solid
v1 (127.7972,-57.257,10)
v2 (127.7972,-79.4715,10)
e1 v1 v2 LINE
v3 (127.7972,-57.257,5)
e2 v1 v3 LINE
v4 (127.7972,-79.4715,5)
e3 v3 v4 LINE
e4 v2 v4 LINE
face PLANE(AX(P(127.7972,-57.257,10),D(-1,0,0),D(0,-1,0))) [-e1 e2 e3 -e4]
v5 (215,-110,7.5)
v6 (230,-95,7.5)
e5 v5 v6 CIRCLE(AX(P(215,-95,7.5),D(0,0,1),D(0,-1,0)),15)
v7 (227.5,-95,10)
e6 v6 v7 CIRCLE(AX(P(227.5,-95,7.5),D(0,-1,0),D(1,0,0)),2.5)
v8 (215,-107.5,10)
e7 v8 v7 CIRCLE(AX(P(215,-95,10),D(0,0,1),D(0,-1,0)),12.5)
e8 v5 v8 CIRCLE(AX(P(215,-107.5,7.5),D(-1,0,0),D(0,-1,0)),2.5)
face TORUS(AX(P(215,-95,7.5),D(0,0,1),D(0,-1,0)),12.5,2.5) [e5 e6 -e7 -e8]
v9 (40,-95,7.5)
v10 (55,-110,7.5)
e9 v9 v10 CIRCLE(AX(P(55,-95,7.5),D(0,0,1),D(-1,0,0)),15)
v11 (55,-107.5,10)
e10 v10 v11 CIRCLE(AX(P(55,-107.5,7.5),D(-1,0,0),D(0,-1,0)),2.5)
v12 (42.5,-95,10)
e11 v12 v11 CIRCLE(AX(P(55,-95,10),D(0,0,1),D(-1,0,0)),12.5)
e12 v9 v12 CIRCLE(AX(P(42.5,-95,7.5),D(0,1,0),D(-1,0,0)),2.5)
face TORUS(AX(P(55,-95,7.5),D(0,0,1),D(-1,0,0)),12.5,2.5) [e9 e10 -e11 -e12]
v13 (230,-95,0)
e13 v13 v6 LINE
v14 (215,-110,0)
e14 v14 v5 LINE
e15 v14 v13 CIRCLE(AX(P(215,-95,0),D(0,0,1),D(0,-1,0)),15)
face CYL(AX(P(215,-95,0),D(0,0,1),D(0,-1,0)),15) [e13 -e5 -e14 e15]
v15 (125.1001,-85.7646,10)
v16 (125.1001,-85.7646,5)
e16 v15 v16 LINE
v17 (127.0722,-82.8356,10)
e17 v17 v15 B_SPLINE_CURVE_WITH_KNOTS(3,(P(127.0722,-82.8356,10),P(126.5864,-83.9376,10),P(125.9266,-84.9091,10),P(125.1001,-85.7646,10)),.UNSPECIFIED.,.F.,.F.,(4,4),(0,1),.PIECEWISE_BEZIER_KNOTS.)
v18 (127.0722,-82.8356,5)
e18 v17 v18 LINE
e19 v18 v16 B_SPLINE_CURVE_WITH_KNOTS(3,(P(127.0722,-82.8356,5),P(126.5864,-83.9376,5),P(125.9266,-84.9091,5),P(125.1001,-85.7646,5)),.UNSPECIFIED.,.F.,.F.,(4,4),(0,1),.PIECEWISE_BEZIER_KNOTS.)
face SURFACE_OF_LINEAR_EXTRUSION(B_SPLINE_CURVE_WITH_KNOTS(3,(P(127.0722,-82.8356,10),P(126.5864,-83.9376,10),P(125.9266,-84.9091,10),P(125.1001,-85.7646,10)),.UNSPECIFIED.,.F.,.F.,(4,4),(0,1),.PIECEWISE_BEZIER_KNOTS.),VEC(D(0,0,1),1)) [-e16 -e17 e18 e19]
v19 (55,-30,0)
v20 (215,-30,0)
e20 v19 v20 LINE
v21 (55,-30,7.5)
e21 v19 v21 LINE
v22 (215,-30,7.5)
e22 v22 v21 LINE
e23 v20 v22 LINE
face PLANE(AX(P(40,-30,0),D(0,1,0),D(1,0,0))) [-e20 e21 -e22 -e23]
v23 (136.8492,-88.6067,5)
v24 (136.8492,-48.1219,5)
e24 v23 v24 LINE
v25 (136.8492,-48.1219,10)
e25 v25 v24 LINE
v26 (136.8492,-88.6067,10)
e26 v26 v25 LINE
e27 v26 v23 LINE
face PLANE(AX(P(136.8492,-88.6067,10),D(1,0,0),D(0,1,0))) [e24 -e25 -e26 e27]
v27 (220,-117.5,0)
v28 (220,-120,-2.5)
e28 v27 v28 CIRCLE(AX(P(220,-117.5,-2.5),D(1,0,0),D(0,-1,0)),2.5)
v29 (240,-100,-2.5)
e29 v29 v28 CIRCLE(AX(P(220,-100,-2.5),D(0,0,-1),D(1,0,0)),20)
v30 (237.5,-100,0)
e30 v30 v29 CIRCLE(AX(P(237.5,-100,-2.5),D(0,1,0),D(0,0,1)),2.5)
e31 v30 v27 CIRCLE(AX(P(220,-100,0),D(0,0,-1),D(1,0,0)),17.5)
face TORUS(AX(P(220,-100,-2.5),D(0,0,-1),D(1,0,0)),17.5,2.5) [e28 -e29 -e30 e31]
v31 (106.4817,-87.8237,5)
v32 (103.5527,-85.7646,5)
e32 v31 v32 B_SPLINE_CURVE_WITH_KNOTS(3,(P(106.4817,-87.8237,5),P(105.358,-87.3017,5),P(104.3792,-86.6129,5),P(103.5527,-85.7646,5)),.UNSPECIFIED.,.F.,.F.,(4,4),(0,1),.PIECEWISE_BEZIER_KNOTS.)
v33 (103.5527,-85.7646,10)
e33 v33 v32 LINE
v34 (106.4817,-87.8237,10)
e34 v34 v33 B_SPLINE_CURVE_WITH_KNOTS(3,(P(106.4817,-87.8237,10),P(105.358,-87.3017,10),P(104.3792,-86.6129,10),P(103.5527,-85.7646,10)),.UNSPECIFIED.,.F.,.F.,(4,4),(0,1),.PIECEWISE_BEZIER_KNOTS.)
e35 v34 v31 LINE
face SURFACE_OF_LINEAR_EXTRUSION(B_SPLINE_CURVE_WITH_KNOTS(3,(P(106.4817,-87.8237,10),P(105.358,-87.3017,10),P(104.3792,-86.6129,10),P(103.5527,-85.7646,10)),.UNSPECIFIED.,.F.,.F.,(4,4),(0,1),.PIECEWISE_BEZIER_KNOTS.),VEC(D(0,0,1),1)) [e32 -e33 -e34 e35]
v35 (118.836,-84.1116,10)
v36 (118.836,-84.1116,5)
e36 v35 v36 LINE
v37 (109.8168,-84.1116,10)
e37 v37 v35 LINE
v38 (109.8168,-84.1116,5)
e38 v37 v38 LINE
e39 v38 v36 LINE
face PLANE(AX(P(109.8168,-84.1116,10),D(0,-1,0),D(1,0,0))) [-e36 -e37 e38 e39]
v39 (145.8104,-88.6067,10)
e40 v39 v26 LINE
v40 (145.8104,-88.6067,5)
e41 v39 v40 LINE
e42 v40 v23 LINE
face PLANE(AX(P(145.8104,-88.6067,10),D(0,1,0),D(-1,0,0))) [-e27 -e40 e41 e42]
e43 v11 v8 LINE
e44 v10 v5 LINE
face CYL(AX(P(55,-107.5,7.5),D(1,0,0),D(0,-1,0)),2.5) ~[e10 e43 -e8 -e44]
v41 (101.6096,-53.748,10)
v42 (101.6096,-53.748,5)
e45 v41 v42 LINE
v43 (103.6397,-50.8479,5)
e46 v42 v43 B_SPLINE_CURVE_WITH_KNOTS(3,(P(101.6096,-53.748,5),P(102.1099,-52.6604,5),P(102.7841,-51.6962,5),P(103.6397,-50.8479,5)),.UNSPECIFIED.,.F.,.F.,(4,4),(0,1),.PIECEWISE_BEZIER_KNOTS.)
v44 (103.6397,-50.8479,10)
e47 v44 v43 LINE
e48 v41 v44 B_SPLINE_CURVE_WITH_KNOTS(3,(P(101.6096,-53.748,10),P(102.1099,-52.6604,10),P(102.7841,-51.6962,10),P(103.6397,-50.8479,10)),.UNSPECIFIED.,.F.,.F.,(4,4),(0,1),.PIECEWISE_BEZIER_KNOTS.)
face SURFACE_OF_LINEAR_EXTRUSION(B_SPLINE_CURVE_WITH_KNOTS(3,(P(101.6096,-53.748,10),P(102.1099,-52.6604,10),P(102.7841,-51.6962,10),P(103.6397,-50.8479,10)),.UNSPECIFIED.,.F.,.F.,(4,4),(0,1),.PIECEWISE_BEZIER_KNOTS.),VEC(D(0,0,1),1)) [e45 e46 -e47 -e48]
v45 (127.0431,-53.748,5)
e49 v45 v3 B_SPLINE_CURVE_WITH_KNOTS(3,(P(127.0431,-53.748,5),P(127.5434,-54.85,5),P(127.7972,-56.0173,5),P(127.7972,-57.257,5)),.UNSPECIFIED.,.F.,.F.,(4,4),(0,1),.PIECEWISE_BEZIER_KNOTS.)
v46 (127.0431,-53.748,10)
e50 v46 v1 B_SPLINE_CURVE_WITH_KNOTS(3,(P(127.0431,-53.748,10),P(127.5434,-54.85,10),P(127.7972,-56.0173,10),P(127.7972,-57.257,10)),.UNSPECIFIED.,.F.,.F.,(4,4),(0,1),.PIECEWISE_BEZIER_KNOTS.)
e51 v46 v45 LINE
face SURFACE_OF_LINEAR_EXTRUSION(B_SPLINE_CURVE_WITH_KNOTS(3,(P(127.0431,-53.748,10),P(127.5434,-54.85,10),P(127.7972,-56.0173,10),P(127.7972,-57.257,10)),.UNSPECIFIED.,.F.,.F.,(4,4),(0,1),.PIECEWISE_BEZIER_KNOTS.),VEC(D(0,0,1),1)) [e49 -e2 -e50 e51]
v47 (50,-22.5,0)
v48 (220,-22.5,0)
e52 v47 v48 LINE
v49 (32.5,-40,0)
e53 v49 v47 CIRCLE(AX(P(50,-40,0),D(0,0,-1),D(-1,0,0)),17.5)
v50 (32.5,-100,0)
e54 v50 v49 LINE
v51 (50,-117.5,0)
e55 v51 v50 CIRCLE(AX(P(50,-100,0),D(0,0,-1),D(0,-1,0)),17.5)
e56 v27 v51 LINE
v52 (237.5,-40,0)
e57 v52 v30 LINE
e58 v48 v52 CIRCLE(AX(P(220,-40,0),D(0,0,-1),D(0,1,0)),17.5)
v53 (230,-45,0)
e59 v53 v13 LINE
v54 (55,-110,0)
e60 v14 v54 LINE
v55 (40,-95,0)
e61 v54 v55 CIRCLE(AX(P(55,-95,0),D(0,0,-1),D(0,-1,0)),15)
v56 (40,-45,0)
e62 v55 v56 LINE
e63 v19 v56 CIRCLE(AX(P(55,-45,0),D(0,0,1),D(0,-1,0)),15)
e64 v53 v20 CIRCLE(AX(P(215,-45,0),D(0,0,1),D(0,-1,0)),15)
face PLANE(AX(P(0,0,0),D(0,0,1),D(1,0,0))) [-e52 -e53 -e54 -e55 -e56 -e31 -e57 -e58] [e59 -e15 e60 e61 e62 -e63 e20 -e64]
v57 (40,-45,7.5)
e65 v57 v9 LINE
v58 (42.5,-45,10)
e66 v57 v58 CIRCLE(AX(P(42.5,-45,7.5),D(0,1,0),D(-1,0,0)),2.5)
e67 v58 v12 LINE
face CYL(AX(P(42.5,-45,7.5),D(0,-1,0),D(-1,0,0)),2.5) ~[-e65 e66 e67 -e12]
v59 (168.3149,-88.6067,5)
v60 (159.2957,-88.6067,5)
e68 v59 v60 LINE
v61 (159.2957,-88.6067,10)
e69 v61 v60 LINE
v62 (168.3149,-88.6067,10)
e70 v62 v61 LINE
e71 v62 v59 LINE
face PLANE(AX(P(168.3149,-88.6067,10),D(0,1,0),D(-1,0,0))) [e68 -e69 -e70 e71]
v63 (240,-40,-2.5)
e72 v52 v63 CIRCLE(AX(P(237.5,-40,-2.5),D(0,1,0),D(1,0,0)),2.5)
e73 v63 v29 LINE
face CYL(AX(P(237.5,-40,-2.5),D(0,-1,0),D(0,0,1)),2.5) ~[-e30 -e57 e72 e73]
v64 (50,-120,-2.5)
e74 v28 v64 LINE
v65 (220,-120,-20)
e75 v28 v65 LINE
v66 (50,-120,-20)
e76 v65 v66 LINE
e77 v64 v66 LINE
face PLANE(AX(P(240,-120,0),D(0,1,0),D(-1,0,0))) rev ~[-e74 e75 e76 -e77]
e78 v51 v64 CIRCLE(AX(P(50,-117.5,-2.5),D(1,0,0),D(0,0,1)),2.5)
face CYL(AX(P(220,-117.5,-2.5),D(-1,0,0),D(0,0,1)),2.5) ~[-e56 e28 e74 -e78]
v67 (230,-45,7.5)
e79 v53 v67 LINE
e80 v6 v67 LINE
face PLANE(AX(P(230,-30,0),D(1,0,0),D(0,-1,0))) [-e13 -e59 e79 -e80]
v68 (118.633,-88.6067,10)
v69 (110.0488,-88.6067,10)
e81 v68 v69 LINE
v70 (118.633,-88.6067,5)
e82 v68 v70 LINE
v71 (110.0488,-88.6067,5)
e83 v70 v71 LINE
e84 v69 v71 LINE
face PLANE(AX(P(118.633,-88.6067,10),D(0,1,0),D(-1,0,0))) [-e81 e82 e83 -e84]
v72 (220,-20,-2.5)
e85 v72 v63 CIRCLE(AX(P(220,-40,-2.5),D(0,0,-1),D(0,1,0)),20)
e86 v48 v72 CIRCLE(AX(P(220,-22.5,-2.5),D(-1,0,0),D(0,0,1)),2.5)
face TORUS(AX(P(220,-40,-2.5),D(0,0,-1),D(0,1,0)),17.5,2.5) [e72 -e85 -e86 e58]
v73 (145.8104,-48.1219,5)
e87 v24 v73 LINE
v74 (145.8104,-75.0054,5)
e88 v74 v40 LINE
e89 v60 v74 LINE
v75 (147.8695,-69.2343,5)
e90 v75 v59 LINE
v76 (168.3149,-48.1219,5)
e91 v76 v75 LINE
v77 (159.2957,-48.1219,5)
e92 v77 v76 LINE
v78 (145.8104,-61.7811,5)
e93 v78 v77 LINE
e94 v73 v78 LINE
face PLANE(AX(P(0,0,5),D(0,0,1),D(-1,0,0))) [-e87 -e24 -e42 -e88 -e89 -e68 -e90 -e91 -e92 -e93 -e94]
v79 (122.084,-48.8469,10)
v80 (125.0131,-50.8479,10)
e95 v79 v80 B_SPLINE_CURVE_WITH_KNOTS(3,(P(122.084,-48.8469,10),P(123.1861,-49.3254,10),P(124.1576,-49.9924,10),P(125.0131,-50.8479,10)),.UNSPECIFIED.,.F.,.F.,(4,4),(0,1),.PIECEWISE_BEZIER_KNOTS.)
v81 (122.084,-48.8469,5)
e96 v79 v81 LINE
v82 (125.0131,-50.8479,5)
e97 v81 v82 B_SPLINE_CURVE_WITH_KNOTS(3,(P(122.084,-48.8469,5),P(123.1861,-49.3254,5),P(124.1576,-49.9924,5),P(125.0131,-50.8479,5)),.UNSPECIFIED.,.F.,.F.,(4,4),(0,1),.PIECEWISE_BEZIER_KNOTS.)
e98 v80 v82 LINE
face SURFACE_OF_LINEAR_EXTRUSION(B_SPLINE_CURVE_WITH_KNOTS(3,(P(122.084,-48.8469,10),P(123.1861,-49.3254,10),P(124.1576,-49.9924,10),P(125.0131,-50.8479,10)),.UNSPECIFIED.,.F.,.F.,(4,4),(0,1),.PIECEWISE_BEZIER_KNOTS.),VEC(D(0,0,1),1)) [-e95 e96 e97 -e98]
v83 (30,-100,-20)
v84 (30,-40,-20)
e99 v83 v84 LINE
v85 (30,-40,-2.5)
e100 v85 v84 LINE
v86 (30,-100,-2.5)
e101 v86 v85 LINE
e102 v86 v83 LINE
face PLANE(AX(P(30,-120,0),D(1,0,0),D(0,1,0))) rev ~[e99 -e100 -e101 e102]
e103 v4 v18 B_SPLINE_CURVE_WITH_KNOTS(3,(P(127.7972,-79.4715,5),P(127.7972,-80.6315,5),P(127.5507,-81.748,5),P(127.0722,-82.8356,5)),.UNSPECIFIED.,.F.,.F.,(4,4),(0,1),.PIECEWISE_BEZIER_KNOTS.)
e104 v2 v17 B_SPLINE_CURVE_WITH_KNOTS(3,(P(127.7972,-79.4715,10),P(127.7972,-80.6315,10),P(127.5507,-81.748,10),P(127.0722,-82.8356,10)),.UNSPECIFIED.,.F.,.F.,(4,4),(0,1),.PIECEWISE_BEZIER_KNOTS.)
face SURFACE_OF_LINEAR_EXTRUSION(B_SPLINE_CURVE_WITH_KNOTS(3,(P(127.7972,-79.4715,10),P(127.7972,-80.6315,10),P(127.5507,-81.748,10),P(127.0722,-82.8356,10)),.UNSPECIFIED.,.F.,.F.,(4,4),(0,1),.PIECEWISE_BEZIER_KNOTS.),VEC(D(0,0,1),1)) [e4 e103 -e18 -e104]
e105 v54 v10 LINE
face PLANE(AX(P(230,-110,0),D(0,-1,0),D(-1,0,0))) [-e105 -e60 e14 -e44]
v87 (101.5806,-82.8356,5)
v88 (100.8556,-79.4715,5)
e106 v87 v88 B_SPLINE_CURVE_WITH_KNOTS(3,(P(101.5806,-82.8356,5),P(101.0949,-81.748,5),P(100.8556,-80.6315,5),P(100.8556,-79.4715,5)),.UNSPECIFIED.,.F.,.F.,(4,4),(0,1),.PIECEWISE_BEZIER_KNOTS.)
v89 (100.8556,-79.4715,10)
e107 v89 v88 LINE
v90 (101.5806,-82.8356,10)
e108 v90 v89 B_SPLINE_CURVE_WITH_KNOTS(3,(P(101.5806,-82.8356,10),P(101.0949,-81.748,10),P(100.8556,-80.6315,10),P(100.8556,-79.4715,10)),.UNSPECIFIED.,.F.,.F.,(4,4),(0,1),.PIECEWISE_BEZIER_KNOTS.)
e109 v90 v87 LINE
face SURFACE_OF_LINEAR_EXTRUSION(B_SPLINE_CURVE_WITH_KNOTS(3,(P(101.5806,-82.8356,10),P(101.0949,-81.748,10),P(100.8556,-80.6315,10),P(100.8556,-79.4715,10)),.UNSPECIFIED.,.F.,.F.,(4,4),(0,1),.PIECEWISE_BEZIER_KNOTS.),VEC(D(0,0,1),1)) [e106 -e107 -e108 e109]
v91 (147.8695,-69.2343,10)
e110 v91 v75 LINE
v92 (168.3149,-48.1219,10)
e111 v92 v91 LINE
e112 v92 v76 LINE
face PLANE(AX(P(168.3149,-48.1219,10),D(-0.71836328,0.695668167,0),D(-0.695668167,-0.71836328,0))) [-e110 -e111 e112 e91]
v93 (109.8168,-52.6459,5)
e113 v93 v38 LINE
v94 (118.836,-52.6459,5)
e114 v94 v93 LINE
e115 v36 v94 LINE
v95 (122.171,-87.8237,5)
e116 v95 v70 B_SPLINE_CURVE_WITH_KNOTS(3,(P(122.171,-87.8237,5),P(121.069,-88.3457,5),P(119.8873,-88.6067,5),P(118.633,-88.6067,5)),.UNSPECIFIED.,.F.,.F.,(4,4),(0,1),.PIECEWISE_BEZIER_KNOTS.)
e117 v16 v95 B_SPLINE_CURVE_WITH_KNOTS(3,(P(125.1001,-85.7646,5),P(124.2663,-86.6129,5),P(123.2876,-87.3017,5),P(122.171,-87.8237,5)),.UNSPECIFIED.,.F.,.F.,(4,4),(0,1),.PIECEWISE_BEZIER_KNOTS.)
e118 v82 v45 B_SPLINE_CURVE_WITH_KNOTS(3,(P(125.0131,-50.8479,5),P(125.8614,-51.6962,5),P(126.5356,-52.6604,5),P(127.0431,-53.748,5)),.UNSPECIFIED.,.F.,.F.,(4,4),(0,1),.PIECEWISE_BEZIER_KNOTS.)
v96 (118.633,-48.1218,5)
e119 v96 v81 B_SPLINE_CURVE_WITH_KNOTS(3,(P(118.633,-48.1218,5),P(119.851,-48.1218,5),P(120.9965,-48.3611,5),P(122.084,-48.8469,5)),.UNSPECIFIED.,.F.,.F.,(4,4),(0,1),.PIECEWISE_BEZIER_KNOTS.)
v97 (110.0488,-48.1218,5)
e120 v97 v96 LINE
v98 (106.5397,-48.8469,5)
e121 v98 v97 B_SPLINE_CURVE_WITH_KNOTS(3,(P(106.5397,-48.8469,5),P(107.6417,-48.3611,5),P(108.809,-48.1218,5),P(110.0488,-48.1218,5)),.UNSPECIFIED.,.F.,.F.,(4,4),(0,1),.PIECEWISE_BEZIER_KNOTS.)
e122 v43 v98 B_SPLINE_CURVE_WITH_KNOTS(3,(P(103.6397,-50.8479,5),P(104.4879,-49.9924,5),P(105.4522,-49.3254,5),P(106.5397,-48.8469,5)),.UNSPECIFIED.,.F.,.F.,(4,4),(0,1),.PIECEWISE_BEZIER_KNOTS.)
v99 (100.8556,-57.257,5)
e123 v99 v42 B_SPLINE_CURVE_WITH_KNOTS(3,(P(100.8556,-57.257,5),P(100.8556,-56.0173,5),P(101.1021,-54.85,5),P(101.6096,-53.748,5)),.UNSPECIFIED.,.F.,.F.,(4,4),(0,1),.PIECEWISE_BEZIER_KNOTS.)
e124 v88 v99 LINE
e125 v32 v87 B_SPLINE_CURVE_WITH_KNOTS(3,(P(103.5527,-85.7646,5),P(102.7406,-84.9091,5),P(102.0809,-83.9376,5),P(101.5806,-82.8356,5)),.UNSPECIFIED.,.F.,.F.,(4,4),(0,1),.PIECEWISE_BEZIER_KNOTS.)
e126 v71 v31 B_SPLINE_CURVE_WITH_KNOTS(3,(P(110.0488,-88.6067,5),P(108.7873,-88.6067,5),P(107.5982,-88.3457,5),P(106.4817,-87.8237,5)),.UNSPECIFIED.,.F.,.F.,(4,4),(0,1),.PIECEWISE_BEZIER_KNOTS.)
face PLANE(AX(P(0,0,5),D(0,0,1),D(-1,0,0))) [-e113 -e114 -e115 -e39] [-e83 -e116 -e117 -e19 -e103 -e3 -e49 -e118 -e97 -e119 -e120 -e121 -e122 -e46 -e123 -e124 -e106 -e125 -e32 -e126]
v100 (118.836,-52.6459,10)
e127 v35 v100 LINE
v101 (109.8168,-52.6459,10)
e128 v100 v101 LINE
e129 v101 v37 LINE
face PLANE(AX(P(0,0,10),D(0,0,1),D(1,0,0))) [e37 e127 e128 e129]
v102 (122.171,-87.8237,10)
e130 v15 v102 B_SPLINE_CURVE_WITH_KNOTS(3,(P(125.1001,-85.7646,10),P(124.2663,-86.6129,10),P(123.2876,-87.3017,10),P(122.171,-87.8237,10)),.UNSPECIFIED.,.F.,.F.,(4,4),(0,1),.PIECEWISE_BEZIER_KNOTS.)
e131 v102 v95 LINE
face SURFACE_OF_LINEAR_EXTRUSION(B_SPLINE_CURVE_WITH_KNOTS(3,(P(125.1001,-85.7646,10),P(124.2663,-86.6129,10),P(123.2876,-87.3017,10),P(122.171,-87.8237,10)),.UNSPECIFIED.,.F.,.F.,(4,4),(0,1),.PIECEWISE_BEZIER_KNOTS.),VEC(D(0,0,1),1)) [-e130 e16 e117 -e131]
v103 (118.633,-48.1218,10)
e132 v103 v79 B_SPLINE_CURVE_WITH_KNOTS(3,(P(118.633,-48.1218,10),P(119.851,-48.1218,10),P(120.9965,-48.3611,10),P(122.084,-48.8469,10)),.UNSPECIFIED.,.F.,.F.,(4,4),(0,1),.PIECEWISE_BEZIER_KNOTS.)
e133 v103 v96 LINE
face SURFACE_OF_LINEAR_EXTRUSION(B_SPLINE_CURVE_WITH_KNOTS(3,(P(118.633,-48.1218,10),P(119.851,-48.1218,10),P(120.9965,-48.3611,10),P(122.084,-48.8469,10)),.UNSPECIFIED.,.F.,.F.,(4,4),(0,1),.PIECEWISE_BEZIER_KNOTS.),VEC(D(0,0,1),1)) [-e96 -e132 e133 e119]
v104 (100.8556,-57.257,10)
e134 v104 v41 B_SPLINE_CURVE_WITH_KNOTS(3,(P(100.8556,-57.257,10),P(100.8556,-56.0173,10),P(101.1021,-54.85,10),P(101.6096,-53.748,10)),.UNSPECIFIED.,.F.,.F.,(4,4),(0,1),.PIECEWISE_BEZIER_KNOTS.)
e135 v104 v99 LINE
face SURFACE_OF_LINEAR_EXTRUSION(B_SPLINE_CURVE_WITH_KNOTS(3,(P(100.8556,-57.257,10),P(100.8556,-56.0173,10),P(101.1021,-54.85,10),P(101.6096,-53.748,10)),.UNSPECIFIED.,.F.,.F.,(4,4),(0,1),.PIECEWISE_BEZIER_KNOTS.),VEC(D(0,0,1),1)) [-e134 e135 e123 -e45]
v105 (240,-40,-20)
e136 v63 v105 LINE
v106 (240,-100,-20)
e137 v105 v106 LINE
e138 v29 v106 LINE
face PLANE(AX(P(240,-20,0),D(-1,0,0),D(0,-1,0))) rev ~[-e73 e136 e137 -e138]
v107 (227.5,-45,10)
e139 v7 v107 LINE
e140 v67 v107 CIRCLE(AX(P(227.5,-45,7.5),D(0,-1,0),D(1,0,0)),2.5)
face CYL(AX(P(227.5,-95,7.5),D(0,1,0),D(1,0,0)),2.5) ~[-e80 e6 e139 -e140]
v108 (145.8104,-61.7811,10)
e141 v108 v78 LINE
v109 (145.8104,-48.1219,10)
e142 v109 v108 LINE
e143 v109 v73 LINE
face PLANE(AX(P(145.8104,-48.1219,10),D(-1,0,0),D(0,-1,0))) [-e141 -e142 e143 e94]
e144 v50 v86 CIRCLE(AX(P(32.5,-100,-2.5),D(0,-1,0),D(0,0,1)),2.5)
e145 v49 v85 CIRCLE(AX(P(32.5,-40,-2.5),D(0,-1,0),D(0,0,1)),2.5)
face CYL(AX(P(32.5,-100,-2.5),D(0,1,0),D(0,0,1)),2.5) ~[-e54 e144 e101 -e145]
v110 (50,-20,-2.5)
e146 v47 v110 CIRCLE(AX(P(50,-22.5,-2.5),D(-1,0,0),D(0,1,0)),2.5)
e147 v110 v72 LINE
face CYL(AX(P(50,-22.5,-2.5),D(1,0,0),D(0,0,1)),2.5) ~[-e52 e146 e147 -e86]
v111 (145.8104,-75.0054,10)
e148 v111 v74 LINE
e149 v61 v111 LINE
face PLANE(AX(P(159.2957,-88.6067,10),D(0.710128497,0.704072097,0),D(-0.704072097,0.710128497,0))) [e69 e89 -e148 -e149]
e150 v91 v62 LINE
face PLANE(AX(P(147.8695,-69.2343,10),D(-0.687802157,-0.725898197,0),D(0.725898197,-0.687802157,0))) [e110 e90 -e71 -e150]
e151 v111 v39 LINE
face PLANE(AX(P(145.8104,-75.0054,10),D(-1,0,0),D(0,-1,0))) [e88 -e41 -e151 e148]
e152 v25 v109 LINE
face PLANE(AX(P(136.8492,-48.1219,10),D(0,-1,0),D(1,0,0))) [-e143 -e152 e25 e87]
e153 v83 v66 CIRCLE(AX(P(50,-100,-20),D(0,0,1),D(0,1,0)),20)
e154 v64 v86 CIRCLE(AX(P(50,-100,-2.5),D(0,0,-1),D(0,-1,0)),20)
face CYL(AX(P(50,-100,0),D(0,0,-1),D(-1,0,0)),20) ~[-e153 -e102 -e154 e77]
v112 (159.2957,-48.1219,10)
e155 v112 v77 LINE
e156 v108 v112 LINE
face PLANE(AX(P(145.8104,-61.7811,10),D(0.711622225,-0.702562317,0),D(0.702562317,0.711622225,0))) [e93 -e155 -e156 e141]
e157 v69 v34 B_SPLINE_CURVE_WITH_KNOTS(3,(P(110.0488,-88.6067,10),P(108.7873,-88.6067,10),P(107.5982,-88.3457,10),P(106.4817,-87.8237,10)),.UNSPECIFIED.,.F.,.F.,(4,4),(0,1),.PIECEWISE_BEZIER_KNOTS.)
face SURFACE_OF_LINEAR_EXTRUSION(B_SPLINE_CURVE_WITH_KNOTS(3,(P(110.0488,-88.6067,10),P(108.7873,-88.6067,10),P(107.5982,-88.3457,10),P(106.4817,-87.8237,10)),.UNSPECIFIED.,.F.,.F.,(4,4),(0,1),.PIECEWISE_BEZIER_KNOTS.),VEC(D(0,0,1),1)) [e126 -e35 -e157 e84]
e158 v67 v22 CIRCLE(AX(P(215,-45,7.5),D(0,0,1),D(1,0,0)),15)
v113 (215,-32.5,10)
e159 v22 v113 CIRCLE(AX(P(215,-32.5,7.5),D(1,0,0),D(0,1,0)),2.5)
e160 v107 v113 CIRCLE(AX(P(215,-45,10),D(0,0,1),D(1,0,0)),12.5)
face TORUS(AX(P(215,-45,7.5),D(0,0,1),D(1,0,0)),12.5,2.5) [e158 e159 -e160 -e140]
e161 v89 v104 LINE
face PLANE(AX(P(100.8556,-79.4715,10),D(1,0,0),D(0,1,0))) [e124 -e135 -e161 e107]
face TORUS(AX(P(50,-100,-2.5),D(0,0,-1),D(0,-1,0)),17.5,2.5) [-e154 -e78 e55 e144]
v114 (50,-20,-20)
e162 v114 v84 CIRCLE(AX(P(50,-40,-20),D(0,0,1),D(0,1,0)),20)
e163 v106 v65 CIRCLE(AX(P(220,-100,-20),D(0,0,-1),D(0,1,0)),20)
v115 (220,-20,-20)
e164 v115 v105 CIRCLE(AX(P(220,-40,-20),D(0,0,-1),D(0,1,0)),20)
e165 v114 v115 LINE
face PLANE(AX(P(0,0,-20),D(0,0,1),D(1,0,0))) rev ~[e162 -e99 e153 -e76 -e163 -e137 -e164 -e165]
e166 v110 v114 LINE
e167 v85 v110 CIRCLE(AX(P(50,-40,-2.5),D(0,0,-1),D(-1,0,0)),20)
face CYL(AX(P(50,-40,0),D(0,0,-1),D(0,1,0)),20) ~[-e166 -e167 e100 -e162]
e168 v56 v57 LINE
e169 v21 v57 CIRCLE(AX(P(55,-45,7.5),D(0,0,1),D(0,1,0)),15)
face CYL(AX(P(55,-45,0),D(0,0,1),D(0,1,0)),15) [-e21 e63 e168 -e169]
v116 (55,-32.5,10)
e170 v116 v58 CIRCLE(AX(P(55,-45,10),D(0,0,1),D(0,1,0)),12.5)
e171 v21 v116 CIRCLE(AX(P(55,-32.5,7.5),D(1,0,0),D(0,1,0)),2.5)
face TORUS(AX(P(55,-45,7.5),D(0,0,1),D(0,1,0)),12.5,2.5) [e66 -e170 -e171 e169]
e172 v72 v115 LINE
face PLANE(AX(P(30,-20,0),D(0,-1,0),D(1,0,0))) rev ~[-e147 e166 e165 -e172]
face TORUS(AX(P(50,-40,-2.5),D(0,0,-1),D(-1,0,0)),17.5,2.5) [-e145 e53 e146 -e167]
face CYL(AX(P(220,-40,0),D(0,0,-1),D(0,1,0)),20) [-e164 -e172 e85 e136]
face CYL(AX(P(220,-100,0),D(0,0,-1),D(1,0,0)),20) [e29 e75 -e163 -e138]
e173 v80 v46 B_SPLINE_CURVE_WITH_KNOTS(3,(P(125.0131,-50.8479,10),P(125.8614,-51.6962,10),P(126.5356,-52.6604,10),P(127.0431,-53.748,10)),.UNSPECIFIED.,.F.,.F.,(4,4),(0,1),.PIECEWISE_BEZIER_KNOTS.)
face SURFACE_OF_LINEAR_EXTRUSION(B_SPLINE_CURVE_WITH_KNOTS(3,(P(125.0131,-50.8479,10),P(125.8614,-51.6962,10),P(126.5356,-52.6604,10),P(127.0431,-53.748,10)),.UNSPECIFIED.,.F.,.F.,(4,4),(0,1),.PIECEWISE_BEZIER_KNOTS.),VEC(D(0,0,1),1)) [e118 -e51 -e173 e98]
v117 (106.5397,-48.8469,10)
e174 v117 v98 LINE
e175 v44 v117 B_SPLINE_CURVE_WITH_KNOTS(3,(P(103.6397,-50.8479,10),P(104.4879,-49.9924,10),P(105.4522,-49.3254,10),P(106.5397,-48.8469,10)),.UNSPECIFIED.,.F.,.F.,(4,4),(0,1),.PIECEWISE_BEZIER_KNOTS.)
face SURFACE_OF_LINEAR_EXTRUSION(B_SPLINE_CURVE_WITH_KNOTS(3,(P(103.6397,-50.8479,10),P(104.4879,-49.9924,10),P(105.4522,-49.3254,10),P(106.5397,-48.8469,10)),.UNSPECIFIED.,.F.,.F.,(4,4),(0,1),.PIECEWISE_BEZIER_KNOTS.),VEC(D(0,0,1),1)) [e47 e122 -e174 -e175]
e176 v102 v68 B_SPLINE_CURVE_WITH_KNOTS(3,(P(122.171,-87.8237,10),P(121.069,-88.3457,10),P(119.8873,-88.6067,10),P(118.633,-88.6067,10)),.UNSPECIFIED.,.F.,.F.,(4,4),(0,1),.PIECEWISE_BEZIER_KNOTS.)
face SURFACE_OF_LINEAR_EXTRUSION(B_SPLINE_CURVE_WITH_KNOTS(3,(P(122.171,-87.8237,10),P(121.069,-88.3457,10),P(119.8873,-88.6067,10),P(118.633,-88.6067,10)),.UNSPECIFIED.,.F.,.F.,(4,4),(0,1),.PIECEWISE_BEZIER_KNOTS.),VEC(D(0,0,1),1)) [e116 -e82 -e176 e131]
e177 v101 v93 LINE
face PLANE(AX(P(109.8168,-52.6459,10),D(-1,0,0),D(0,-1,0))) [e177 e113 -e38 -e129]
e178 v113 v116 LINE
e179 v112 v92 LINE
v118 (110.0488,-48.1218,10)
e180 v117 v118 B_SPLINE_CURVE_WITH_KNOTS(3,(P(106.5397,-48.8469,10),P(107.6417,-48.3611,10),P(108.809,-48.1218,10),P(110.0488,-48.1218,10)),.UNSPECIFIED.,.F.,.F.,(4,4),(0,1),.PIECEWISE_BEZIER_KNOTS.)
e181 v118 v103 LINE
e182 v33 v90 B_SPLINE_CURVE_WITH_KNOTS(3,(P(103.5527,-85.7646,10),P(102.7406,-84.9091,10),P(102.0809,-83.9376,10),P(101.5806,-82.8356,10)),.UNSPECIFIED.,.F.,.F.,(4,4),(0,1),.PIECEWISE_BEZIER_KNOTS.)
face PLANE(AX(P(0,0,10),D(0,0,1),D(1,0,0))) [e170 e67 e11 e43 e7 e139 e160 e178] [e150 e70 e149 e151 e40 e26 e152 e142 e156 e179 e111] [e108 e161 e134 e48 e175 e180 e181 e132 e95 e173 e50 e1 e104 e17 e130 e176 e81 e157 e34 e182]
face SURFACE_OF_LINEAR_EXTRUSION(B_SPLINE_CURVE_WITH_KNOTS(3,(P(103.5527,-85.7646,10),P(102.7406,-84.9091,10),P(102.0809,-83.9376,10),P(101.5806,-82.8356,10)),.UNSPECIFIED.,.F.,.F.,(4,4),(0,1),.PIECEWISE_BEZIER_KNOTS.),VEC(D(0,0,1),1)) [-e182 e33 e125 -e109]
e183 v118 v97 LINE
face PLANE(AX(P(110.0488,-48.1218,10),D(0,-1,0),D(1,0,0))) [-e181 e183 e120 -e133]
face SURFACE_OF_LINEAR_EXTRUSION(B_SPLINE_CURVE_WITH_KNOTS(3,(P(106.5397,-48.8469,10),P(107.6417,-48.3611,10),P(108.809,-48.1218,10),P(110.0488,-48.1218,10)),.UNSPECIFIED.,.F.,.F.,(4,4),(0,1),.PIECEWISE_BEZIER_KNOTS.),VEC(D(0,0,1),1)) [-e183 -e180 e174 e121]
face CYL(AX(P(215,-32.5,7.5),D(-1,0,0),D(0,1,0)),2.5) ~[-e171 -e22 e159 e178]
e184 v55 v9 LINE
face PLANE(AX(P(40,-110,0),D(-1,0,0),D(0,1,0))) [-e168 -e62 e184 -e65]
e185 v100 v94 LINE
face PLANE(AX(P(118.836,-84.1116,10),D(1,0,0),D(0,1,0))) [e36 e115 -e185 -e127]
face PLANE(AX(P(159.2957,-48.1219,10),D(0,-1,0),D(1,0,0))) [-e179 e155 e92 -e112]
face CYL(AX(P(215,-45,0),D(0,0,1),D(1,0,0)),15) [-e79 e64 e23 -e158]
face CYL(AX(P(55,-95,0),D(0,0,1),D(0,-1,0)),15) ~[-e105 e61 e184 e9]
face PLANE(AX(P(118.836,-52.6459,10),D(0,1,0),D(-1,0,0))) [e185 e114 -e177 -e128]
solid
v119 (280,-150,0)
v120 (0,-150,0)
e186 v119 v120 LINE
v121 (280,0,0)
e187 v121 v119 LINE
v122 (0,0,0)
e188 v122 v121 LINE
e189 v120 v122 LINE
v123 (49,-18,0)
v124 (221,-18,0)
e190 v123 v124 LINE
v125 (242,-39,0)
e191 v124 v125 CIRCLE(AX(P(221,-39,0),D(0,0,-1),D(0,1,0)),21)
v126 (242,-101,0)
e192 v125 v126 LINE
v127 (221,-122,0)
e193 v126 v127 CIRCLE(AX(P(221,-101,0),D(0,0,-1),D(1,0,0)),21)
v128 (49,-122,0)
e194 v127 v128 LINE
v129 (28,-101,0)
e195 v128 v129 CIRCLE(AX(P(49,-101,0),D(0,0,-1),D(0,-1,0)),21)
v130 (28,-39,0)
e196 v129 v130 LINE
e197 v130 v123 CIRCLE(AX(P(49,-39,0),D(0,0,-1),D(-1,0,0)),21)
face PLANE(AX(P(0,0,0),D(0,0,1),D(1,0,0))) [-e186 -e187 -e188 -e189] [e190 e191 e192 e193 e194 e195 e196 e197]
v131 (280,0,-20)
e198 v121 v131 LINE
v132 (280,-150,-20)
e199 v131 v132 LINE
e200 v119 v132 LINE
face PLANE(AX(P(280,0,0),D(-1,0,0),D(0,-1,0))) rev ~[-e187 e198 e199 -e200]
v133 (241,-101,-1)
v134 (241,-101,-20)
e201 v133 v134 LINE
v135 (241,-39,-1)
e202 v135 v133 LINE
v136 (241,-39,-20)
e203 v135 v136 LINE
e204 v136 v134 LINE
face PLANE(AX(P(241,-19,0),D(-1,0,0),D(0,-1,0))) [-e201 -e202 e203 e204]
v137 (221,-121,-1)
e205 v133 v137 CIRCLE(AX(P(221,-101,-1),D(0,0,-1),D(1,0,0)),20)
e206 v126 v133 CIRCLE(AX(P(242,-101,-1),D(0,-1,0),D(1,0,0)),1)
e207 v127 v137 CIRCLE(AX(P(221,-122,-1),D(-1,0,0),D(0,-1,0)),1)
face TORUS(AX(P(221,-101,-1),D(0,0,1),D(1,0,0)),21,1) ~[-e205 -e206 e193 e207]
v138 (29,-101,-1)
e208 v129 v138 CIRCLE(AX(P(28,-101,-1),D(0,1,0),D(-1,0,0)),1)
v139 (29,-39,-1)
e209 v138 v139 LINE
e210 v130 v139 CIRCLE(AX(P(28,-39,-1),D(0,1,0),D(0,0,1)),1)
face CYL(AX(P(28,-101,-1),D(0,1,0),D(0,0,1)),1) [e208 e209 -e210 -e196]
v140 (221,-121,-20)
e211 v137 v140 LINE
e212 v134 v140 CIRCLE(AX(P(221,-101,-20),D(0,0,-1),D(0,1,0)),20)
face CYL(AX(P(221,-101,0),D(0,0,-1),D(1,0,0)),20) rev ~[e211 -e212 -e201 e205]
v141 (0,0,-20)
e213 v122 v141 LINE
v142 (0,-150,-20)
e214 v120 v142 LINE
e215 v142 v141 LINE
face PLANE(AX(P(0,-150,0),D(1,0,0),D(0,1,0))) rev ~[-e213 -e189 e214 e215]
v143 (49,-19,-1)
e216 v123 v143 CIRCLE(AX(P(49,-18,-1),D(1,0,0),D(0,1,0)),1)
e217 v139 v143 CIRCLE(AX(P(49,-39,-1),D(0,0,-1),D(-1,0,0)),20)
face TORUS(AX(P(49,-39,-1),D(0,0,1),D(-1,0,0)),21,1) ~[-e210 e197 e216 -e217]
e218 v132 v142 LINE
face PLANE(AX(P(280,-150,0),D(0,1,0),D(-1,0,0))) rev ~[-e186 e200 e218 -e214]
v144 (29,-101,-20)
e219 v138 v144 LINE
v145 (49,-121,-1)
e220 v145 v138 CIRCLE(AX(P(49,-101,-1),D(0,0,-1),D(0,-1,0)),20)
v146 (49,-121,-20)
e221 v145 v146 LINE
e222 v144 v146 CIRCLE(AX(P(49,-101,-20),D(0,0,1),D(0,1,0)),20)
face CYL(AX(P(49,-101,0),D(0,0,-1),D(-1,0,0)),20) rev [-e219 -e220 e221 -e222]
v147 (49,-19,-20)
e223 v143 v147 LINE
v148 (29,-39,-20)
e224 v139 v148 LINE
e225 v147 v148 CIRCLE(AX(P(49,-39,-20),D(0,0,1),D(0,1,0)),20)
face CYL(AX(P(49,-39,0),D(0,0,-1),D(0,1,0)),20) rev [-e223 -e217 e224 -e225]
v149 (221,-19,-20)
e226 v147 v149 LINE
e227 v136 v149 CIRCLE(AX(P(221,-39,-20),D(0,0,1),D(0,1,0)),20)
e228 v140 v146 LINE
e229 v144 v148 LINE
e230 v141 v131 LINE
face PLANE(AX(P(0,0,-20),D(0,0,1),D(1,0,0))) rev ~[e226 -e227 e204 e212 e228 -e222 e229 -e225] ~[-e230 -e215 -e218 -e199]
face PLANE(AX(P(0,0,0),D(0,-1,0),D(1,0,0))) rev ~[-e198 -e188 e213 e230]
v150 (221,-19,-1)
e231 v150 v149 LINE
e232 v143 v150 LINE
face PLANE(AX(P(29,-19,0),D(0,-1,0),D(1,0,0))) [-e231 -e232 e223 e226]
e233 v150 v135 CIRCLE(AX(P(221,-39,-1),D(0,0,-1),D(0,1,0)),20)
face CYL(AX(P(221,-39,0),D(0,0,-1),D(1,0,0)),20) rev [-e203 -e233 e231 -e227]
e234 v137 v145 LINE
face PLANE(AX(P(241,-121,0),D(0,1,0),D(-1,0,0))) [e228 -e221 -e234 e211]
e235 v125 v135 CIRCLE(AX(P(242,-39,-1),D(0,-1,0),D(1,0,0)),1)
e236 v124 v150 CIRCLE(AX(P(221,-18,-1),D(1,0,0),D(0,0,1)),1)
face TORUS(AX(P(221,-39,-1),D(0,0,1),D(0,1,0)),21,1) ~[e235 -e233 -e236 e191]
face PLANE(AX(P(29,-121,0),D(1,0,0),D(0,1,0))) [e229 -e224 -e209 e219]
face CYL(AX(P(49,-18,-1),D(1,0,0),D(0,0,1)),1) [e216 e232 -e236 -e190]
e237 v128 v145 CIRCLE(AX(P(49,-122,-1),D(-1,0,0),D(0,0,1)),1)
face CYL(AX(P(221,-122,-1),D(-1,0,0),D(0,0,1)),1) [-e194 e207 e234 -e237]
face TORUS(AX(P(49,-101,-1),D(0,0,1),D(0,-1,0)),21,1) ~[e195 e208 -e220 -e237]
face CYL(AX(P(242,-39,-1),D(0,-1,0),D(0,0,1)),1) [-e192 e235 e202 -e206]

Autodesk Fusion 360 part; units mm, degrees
sketch "Sketch1" plane through (0, 0, 0) normal (0, 0, 1) x (1, 0, 0)
  line L0 (40, -30) -> (230, -30)
  line L1 (230, -30) -> (230, -110)
  line L2 (230, -110) -> (40, -110)
  line L3 (40, -110) -> (40, -30)
  line L4 (30, -20) -> (240, -20)
  line L5 (240, -20) -> (240, -120)
  line L6 (240, -120) -> (30, -120)
  line L7 (30, -120) -> (30, -20)
  line L8 (40, -30) -> (230, -110)
  line L9 (230, -30) -> (40, -110)
  line L10 (241, -121) -> (29, -121)
  line L11 (29, -121) -> (29, -19)
  line L12 (29, -19) -> (241, -19)
  line L13 (241, -19) -> (241, -121)
  line L14 (241, -121) -> (29, -19) construction
  line L15 (29, -121) -> (241, -19) construction
  line L16 (0, 0) -> (280, 0)
  line L17 (280, 0) -> (280, -150)
  line L18 (280, -150) -> (0, -150)
  line L19 (0, -150) -> (0, 0)
  point P0 (135, -70)
extrude "Extrude3" add sketch "Sketch1" against normal blind 20 contours L16 L17 L18 L19 makes body 1
extrude "Extrude1" add sketch "Sketch1" against normal blind 20 separate body contours L3 L8 L9 | L0 L8 L9 | L1 L8 L9 | L2 L8 L9 | L4 L5 L6 L7 makes body 2
extrude "Extrude2" add sketch "Sketch1" along normal blind 10 contours L3 L8 L9 | L0 L8 L9 | L1 L8 L9 | L2 L8 L9 bodies 2
fillet "Fillet1" radius 15 4 edges at (40, -110, 5) (40, -30, 5) (230, -30, 5) (230, -110, 5) on bodies 2
fillet "Fillet1" radius 20 4 edges at (30, -120, -10) (30, -20, -10) (240, -20, -10) (240, -120, -10) on bodies 2
fillet "Fillet2" radius 2.5 16 edges at (225.6066, -34.3934, 10) (135, -30, 10) (44.3934, -34.3934, 10) (40, -70, 10) (44.3934, -105.6066, 10) (135, -110, 10) (225.6066, -105.6066, 10) (230, -70, 10) (30, -70, 0) (35.8579, -25.8579, 0) (135, -20, 0) (234.1421, -25.8579, 0) (240, -70, 0) (234.1421, -114.1421, 0) (135, -120, 0) (35.8579, -114.1421, 0) on bodies 2
fillet "Fillet3" radius 20 4 edges at (29, -19, -10) (241, -19, -10) (241, -121, -10) (29, -121, -10) on bodies 1
fillet "Fillet4" radius 1 8 edges at (235.1421, -115.1421, 0) (241, -70, 0) (235.1421, -24.8579, 0) (135, -19, 0) (34.8579, -24.8579, 0) (29, -70, 0) (34.8579, -115.1421, 0) (135, -121, 0) on bodies 1
sketch "Sketch2" plane through (0, 0, 10) normal (0, 0, 1) x (-1, 0, 0)
  arc A0 (-227.5, 45) -> (-215, 32.5) centre (-215, 45) ccw
  line L0 (-215, 32.5) -> (-55, 32.5)
  arc A1 (-55, 32.5) -> (-42.5, 45) centre (-55, 45) ccw
  line L1 (-42.5, 45) -> (-42.5, 95)
  arc A2 (-42.5, 95) -> (-55, 107.5) centre (-55, 95) ccw
  line L2 (-55, 107.5) -> (-215, 107.5)
  arc A3 (-215, 107.5) -> (-227.5, 95) centre (-215, 95) ccw
  line L3 (-227.5, 95) -> (-227.5, 45)
  line L4 (-110.0488, 48.1218) -> (-118.633, 48.1218)
  spline S0 degree 3 poles (-118.633, 48.1218) (-119.851, 48.1218) (-120.9965, 48.3611) (-122.084, 48.8469) knots 0 0 0 0 1 1 1 1
  spline S1 degree 3 poles (-122.084, 48.8469) (-123.1861, 49.3254) (-124.1576, 49.9924) (-125.0131, 50.8479) knots 0 0 0 0 1 1 1 1
  spline S2 degree 3 poles (-125.0131, 50.8479) (-125.8614, 51.6962) (-126.5356, 52.6604) (-127.0431, 53.748) knots 0 0 0 0 1 1 1 1
  spline S3 degree 3 poles (-127.0431, 53.748) (-127.5434, 54.85) (-127.7972, 56.0173) (-127.7972, 57.257) knots 0 0 0 0 1 1 1 1
  line L5 (-127.7972, 57.257) -> (-127.7972, 79.4715)
  spline S4 degree 3 poles (-127.7972, 79.4715) (-127.7972, 80.6315) (-127.5507, 81.748) (-127.0722, 82.8356) knots 0 0 0 0 1 1 1 1
  spline S5 degree 3 poles (-127.0722, 82.8356) (-126.5864, 83.9376) (-125.9266, 84.9091) (-125.1001, 85.7646) knots 0 0 0 0 1 1 1 1
  spline S6 degree 3 poles (-125.1001, 85.7646) (-124.2663, 86.6129) (-123.2876, 87.3017) (-122.171, 87.8237) knots 0 0 0 0 1 1 1 1
  spline S7 degree 3 poles (-122.171, 87.8237) (-121.069, 88.3457) (-119.8873, 88.6067) (-118.633, 88.6067) knots 0 0 0 0 1 1 1 1
  line L6 (-118.633, 88.6067) -> (-110.0488, 88.6067)
  spline S8 degree 3 poles (-110.0488, 88.6067) (-108.7873, 88.6067) (-107.5982, 88.3457) (-106.4817, 87.8237) knots 0 0 0 0 1 1 1 1
  spline S9 degree 3 poles (-106.4817, 87.8237) (-105.358, 87.3017) (-104.3792, 86.6129) (-103.5527, 85.7646) knots 0 0 0 0 1 1 1 1
  spline S10 degree 3 poles (-103.5527, 85.7646) (-102.7406, 84.9091) (-102.0809, 83.9376) (-101.5806, 82.8356) knots 0 0 0 0 1 1 1 1
  spline S11 degree 3 poles (-101.5806, 82.8356) (-101.0949, 81.748) (-100.8556, 80.6315) (-100.8556, 79.4715) knots 0 0 0 0 1 1 1 1
  line L7 (-100.8556, 79.4715) -> (-100.8556, 57.257)
  spline S12 degree 3 poles (-100.8556, 57.257) (-100.8556, 56.0173) (-101.1021, 54.85) (-101.6096, 53.748) knots 0 0 0 0 1 1 1 1
  spline S13 degree 3 poles (-101.6096, 53.748) (-102.1099, 52.6604) (-102.7841, 51.6962) (-103.6397, 50.8479) knots 0 0 0 0 1 1 1 1
  spline S14 degree 3 poles (-103.6397, 50.8479) (-104.4879, 49.9924) (-105.4522, 49.3254) (-106.5397, 48.8469) knots 0 0 0 0 1 1 1 1
  spline S15 degree 3 poles (-106.5397, 48.8469) (-107.6417, 48.3611) (-108.809, 48.1218) (-110.0488, 48.1218) knots 0 0 0 0 1 1 1 1
  line L8 (-118.836, 52.6459) -> (-109.8168, 52.6459)
  line L9 (-109.8168, 52.6459) -> (-109.8168, 84.1116)
  line L10 (-109.8168, 84.1116) -> (-118.836, 84.1116)
  line L11 (-118.836, 84.1116) -> (-118.836, 52.6459)
  line L12 (-159.2957, 88.6067) -> (-145.8104, 75.0054)
  line L13 (-145.8104, 75.0054) -> (-145.8104, 88.6067)
  line L14 (-145.8104, 88.6067) -> (-136.8492, 88.6067)
  line L15 (-136.8492, 88.6067) -> (-136.8492, 48.1219)
  line L16 (-136.8492, 48.1219) -> (-145.8104, 48.1219)
  line L17 (-145.8104, 48.1219) -> (-145.8104, 61.7811)
  line L18 (-145.8104, 61.7811) -> (-159.2957, 48.1219)
  line L19 (-159.2957, 48.1219) -> (-168.3149, 48.1219)
  line L20 (-168.3149, 48.1219) -> (-147.8695, 69.2343)
  line L21 (-147.8695, 69.2343) -> (-168.3149, 88.6067)
  line L22 (-168.3149, 88.6067) -> (-159.2957, 88.6067)
extrude "Extrude4" cut sketch "Sketch2" against normal blind 5 contours L4 S0 S1 S2 S3 L5 S4 S5 S6 S7 L6 S8 S9 S10 S11 L7 S12 S13 S14 S15 | L12 L13 L14 L15 L16 L17 L18 L19 L20 L21 L22 bodies 2
